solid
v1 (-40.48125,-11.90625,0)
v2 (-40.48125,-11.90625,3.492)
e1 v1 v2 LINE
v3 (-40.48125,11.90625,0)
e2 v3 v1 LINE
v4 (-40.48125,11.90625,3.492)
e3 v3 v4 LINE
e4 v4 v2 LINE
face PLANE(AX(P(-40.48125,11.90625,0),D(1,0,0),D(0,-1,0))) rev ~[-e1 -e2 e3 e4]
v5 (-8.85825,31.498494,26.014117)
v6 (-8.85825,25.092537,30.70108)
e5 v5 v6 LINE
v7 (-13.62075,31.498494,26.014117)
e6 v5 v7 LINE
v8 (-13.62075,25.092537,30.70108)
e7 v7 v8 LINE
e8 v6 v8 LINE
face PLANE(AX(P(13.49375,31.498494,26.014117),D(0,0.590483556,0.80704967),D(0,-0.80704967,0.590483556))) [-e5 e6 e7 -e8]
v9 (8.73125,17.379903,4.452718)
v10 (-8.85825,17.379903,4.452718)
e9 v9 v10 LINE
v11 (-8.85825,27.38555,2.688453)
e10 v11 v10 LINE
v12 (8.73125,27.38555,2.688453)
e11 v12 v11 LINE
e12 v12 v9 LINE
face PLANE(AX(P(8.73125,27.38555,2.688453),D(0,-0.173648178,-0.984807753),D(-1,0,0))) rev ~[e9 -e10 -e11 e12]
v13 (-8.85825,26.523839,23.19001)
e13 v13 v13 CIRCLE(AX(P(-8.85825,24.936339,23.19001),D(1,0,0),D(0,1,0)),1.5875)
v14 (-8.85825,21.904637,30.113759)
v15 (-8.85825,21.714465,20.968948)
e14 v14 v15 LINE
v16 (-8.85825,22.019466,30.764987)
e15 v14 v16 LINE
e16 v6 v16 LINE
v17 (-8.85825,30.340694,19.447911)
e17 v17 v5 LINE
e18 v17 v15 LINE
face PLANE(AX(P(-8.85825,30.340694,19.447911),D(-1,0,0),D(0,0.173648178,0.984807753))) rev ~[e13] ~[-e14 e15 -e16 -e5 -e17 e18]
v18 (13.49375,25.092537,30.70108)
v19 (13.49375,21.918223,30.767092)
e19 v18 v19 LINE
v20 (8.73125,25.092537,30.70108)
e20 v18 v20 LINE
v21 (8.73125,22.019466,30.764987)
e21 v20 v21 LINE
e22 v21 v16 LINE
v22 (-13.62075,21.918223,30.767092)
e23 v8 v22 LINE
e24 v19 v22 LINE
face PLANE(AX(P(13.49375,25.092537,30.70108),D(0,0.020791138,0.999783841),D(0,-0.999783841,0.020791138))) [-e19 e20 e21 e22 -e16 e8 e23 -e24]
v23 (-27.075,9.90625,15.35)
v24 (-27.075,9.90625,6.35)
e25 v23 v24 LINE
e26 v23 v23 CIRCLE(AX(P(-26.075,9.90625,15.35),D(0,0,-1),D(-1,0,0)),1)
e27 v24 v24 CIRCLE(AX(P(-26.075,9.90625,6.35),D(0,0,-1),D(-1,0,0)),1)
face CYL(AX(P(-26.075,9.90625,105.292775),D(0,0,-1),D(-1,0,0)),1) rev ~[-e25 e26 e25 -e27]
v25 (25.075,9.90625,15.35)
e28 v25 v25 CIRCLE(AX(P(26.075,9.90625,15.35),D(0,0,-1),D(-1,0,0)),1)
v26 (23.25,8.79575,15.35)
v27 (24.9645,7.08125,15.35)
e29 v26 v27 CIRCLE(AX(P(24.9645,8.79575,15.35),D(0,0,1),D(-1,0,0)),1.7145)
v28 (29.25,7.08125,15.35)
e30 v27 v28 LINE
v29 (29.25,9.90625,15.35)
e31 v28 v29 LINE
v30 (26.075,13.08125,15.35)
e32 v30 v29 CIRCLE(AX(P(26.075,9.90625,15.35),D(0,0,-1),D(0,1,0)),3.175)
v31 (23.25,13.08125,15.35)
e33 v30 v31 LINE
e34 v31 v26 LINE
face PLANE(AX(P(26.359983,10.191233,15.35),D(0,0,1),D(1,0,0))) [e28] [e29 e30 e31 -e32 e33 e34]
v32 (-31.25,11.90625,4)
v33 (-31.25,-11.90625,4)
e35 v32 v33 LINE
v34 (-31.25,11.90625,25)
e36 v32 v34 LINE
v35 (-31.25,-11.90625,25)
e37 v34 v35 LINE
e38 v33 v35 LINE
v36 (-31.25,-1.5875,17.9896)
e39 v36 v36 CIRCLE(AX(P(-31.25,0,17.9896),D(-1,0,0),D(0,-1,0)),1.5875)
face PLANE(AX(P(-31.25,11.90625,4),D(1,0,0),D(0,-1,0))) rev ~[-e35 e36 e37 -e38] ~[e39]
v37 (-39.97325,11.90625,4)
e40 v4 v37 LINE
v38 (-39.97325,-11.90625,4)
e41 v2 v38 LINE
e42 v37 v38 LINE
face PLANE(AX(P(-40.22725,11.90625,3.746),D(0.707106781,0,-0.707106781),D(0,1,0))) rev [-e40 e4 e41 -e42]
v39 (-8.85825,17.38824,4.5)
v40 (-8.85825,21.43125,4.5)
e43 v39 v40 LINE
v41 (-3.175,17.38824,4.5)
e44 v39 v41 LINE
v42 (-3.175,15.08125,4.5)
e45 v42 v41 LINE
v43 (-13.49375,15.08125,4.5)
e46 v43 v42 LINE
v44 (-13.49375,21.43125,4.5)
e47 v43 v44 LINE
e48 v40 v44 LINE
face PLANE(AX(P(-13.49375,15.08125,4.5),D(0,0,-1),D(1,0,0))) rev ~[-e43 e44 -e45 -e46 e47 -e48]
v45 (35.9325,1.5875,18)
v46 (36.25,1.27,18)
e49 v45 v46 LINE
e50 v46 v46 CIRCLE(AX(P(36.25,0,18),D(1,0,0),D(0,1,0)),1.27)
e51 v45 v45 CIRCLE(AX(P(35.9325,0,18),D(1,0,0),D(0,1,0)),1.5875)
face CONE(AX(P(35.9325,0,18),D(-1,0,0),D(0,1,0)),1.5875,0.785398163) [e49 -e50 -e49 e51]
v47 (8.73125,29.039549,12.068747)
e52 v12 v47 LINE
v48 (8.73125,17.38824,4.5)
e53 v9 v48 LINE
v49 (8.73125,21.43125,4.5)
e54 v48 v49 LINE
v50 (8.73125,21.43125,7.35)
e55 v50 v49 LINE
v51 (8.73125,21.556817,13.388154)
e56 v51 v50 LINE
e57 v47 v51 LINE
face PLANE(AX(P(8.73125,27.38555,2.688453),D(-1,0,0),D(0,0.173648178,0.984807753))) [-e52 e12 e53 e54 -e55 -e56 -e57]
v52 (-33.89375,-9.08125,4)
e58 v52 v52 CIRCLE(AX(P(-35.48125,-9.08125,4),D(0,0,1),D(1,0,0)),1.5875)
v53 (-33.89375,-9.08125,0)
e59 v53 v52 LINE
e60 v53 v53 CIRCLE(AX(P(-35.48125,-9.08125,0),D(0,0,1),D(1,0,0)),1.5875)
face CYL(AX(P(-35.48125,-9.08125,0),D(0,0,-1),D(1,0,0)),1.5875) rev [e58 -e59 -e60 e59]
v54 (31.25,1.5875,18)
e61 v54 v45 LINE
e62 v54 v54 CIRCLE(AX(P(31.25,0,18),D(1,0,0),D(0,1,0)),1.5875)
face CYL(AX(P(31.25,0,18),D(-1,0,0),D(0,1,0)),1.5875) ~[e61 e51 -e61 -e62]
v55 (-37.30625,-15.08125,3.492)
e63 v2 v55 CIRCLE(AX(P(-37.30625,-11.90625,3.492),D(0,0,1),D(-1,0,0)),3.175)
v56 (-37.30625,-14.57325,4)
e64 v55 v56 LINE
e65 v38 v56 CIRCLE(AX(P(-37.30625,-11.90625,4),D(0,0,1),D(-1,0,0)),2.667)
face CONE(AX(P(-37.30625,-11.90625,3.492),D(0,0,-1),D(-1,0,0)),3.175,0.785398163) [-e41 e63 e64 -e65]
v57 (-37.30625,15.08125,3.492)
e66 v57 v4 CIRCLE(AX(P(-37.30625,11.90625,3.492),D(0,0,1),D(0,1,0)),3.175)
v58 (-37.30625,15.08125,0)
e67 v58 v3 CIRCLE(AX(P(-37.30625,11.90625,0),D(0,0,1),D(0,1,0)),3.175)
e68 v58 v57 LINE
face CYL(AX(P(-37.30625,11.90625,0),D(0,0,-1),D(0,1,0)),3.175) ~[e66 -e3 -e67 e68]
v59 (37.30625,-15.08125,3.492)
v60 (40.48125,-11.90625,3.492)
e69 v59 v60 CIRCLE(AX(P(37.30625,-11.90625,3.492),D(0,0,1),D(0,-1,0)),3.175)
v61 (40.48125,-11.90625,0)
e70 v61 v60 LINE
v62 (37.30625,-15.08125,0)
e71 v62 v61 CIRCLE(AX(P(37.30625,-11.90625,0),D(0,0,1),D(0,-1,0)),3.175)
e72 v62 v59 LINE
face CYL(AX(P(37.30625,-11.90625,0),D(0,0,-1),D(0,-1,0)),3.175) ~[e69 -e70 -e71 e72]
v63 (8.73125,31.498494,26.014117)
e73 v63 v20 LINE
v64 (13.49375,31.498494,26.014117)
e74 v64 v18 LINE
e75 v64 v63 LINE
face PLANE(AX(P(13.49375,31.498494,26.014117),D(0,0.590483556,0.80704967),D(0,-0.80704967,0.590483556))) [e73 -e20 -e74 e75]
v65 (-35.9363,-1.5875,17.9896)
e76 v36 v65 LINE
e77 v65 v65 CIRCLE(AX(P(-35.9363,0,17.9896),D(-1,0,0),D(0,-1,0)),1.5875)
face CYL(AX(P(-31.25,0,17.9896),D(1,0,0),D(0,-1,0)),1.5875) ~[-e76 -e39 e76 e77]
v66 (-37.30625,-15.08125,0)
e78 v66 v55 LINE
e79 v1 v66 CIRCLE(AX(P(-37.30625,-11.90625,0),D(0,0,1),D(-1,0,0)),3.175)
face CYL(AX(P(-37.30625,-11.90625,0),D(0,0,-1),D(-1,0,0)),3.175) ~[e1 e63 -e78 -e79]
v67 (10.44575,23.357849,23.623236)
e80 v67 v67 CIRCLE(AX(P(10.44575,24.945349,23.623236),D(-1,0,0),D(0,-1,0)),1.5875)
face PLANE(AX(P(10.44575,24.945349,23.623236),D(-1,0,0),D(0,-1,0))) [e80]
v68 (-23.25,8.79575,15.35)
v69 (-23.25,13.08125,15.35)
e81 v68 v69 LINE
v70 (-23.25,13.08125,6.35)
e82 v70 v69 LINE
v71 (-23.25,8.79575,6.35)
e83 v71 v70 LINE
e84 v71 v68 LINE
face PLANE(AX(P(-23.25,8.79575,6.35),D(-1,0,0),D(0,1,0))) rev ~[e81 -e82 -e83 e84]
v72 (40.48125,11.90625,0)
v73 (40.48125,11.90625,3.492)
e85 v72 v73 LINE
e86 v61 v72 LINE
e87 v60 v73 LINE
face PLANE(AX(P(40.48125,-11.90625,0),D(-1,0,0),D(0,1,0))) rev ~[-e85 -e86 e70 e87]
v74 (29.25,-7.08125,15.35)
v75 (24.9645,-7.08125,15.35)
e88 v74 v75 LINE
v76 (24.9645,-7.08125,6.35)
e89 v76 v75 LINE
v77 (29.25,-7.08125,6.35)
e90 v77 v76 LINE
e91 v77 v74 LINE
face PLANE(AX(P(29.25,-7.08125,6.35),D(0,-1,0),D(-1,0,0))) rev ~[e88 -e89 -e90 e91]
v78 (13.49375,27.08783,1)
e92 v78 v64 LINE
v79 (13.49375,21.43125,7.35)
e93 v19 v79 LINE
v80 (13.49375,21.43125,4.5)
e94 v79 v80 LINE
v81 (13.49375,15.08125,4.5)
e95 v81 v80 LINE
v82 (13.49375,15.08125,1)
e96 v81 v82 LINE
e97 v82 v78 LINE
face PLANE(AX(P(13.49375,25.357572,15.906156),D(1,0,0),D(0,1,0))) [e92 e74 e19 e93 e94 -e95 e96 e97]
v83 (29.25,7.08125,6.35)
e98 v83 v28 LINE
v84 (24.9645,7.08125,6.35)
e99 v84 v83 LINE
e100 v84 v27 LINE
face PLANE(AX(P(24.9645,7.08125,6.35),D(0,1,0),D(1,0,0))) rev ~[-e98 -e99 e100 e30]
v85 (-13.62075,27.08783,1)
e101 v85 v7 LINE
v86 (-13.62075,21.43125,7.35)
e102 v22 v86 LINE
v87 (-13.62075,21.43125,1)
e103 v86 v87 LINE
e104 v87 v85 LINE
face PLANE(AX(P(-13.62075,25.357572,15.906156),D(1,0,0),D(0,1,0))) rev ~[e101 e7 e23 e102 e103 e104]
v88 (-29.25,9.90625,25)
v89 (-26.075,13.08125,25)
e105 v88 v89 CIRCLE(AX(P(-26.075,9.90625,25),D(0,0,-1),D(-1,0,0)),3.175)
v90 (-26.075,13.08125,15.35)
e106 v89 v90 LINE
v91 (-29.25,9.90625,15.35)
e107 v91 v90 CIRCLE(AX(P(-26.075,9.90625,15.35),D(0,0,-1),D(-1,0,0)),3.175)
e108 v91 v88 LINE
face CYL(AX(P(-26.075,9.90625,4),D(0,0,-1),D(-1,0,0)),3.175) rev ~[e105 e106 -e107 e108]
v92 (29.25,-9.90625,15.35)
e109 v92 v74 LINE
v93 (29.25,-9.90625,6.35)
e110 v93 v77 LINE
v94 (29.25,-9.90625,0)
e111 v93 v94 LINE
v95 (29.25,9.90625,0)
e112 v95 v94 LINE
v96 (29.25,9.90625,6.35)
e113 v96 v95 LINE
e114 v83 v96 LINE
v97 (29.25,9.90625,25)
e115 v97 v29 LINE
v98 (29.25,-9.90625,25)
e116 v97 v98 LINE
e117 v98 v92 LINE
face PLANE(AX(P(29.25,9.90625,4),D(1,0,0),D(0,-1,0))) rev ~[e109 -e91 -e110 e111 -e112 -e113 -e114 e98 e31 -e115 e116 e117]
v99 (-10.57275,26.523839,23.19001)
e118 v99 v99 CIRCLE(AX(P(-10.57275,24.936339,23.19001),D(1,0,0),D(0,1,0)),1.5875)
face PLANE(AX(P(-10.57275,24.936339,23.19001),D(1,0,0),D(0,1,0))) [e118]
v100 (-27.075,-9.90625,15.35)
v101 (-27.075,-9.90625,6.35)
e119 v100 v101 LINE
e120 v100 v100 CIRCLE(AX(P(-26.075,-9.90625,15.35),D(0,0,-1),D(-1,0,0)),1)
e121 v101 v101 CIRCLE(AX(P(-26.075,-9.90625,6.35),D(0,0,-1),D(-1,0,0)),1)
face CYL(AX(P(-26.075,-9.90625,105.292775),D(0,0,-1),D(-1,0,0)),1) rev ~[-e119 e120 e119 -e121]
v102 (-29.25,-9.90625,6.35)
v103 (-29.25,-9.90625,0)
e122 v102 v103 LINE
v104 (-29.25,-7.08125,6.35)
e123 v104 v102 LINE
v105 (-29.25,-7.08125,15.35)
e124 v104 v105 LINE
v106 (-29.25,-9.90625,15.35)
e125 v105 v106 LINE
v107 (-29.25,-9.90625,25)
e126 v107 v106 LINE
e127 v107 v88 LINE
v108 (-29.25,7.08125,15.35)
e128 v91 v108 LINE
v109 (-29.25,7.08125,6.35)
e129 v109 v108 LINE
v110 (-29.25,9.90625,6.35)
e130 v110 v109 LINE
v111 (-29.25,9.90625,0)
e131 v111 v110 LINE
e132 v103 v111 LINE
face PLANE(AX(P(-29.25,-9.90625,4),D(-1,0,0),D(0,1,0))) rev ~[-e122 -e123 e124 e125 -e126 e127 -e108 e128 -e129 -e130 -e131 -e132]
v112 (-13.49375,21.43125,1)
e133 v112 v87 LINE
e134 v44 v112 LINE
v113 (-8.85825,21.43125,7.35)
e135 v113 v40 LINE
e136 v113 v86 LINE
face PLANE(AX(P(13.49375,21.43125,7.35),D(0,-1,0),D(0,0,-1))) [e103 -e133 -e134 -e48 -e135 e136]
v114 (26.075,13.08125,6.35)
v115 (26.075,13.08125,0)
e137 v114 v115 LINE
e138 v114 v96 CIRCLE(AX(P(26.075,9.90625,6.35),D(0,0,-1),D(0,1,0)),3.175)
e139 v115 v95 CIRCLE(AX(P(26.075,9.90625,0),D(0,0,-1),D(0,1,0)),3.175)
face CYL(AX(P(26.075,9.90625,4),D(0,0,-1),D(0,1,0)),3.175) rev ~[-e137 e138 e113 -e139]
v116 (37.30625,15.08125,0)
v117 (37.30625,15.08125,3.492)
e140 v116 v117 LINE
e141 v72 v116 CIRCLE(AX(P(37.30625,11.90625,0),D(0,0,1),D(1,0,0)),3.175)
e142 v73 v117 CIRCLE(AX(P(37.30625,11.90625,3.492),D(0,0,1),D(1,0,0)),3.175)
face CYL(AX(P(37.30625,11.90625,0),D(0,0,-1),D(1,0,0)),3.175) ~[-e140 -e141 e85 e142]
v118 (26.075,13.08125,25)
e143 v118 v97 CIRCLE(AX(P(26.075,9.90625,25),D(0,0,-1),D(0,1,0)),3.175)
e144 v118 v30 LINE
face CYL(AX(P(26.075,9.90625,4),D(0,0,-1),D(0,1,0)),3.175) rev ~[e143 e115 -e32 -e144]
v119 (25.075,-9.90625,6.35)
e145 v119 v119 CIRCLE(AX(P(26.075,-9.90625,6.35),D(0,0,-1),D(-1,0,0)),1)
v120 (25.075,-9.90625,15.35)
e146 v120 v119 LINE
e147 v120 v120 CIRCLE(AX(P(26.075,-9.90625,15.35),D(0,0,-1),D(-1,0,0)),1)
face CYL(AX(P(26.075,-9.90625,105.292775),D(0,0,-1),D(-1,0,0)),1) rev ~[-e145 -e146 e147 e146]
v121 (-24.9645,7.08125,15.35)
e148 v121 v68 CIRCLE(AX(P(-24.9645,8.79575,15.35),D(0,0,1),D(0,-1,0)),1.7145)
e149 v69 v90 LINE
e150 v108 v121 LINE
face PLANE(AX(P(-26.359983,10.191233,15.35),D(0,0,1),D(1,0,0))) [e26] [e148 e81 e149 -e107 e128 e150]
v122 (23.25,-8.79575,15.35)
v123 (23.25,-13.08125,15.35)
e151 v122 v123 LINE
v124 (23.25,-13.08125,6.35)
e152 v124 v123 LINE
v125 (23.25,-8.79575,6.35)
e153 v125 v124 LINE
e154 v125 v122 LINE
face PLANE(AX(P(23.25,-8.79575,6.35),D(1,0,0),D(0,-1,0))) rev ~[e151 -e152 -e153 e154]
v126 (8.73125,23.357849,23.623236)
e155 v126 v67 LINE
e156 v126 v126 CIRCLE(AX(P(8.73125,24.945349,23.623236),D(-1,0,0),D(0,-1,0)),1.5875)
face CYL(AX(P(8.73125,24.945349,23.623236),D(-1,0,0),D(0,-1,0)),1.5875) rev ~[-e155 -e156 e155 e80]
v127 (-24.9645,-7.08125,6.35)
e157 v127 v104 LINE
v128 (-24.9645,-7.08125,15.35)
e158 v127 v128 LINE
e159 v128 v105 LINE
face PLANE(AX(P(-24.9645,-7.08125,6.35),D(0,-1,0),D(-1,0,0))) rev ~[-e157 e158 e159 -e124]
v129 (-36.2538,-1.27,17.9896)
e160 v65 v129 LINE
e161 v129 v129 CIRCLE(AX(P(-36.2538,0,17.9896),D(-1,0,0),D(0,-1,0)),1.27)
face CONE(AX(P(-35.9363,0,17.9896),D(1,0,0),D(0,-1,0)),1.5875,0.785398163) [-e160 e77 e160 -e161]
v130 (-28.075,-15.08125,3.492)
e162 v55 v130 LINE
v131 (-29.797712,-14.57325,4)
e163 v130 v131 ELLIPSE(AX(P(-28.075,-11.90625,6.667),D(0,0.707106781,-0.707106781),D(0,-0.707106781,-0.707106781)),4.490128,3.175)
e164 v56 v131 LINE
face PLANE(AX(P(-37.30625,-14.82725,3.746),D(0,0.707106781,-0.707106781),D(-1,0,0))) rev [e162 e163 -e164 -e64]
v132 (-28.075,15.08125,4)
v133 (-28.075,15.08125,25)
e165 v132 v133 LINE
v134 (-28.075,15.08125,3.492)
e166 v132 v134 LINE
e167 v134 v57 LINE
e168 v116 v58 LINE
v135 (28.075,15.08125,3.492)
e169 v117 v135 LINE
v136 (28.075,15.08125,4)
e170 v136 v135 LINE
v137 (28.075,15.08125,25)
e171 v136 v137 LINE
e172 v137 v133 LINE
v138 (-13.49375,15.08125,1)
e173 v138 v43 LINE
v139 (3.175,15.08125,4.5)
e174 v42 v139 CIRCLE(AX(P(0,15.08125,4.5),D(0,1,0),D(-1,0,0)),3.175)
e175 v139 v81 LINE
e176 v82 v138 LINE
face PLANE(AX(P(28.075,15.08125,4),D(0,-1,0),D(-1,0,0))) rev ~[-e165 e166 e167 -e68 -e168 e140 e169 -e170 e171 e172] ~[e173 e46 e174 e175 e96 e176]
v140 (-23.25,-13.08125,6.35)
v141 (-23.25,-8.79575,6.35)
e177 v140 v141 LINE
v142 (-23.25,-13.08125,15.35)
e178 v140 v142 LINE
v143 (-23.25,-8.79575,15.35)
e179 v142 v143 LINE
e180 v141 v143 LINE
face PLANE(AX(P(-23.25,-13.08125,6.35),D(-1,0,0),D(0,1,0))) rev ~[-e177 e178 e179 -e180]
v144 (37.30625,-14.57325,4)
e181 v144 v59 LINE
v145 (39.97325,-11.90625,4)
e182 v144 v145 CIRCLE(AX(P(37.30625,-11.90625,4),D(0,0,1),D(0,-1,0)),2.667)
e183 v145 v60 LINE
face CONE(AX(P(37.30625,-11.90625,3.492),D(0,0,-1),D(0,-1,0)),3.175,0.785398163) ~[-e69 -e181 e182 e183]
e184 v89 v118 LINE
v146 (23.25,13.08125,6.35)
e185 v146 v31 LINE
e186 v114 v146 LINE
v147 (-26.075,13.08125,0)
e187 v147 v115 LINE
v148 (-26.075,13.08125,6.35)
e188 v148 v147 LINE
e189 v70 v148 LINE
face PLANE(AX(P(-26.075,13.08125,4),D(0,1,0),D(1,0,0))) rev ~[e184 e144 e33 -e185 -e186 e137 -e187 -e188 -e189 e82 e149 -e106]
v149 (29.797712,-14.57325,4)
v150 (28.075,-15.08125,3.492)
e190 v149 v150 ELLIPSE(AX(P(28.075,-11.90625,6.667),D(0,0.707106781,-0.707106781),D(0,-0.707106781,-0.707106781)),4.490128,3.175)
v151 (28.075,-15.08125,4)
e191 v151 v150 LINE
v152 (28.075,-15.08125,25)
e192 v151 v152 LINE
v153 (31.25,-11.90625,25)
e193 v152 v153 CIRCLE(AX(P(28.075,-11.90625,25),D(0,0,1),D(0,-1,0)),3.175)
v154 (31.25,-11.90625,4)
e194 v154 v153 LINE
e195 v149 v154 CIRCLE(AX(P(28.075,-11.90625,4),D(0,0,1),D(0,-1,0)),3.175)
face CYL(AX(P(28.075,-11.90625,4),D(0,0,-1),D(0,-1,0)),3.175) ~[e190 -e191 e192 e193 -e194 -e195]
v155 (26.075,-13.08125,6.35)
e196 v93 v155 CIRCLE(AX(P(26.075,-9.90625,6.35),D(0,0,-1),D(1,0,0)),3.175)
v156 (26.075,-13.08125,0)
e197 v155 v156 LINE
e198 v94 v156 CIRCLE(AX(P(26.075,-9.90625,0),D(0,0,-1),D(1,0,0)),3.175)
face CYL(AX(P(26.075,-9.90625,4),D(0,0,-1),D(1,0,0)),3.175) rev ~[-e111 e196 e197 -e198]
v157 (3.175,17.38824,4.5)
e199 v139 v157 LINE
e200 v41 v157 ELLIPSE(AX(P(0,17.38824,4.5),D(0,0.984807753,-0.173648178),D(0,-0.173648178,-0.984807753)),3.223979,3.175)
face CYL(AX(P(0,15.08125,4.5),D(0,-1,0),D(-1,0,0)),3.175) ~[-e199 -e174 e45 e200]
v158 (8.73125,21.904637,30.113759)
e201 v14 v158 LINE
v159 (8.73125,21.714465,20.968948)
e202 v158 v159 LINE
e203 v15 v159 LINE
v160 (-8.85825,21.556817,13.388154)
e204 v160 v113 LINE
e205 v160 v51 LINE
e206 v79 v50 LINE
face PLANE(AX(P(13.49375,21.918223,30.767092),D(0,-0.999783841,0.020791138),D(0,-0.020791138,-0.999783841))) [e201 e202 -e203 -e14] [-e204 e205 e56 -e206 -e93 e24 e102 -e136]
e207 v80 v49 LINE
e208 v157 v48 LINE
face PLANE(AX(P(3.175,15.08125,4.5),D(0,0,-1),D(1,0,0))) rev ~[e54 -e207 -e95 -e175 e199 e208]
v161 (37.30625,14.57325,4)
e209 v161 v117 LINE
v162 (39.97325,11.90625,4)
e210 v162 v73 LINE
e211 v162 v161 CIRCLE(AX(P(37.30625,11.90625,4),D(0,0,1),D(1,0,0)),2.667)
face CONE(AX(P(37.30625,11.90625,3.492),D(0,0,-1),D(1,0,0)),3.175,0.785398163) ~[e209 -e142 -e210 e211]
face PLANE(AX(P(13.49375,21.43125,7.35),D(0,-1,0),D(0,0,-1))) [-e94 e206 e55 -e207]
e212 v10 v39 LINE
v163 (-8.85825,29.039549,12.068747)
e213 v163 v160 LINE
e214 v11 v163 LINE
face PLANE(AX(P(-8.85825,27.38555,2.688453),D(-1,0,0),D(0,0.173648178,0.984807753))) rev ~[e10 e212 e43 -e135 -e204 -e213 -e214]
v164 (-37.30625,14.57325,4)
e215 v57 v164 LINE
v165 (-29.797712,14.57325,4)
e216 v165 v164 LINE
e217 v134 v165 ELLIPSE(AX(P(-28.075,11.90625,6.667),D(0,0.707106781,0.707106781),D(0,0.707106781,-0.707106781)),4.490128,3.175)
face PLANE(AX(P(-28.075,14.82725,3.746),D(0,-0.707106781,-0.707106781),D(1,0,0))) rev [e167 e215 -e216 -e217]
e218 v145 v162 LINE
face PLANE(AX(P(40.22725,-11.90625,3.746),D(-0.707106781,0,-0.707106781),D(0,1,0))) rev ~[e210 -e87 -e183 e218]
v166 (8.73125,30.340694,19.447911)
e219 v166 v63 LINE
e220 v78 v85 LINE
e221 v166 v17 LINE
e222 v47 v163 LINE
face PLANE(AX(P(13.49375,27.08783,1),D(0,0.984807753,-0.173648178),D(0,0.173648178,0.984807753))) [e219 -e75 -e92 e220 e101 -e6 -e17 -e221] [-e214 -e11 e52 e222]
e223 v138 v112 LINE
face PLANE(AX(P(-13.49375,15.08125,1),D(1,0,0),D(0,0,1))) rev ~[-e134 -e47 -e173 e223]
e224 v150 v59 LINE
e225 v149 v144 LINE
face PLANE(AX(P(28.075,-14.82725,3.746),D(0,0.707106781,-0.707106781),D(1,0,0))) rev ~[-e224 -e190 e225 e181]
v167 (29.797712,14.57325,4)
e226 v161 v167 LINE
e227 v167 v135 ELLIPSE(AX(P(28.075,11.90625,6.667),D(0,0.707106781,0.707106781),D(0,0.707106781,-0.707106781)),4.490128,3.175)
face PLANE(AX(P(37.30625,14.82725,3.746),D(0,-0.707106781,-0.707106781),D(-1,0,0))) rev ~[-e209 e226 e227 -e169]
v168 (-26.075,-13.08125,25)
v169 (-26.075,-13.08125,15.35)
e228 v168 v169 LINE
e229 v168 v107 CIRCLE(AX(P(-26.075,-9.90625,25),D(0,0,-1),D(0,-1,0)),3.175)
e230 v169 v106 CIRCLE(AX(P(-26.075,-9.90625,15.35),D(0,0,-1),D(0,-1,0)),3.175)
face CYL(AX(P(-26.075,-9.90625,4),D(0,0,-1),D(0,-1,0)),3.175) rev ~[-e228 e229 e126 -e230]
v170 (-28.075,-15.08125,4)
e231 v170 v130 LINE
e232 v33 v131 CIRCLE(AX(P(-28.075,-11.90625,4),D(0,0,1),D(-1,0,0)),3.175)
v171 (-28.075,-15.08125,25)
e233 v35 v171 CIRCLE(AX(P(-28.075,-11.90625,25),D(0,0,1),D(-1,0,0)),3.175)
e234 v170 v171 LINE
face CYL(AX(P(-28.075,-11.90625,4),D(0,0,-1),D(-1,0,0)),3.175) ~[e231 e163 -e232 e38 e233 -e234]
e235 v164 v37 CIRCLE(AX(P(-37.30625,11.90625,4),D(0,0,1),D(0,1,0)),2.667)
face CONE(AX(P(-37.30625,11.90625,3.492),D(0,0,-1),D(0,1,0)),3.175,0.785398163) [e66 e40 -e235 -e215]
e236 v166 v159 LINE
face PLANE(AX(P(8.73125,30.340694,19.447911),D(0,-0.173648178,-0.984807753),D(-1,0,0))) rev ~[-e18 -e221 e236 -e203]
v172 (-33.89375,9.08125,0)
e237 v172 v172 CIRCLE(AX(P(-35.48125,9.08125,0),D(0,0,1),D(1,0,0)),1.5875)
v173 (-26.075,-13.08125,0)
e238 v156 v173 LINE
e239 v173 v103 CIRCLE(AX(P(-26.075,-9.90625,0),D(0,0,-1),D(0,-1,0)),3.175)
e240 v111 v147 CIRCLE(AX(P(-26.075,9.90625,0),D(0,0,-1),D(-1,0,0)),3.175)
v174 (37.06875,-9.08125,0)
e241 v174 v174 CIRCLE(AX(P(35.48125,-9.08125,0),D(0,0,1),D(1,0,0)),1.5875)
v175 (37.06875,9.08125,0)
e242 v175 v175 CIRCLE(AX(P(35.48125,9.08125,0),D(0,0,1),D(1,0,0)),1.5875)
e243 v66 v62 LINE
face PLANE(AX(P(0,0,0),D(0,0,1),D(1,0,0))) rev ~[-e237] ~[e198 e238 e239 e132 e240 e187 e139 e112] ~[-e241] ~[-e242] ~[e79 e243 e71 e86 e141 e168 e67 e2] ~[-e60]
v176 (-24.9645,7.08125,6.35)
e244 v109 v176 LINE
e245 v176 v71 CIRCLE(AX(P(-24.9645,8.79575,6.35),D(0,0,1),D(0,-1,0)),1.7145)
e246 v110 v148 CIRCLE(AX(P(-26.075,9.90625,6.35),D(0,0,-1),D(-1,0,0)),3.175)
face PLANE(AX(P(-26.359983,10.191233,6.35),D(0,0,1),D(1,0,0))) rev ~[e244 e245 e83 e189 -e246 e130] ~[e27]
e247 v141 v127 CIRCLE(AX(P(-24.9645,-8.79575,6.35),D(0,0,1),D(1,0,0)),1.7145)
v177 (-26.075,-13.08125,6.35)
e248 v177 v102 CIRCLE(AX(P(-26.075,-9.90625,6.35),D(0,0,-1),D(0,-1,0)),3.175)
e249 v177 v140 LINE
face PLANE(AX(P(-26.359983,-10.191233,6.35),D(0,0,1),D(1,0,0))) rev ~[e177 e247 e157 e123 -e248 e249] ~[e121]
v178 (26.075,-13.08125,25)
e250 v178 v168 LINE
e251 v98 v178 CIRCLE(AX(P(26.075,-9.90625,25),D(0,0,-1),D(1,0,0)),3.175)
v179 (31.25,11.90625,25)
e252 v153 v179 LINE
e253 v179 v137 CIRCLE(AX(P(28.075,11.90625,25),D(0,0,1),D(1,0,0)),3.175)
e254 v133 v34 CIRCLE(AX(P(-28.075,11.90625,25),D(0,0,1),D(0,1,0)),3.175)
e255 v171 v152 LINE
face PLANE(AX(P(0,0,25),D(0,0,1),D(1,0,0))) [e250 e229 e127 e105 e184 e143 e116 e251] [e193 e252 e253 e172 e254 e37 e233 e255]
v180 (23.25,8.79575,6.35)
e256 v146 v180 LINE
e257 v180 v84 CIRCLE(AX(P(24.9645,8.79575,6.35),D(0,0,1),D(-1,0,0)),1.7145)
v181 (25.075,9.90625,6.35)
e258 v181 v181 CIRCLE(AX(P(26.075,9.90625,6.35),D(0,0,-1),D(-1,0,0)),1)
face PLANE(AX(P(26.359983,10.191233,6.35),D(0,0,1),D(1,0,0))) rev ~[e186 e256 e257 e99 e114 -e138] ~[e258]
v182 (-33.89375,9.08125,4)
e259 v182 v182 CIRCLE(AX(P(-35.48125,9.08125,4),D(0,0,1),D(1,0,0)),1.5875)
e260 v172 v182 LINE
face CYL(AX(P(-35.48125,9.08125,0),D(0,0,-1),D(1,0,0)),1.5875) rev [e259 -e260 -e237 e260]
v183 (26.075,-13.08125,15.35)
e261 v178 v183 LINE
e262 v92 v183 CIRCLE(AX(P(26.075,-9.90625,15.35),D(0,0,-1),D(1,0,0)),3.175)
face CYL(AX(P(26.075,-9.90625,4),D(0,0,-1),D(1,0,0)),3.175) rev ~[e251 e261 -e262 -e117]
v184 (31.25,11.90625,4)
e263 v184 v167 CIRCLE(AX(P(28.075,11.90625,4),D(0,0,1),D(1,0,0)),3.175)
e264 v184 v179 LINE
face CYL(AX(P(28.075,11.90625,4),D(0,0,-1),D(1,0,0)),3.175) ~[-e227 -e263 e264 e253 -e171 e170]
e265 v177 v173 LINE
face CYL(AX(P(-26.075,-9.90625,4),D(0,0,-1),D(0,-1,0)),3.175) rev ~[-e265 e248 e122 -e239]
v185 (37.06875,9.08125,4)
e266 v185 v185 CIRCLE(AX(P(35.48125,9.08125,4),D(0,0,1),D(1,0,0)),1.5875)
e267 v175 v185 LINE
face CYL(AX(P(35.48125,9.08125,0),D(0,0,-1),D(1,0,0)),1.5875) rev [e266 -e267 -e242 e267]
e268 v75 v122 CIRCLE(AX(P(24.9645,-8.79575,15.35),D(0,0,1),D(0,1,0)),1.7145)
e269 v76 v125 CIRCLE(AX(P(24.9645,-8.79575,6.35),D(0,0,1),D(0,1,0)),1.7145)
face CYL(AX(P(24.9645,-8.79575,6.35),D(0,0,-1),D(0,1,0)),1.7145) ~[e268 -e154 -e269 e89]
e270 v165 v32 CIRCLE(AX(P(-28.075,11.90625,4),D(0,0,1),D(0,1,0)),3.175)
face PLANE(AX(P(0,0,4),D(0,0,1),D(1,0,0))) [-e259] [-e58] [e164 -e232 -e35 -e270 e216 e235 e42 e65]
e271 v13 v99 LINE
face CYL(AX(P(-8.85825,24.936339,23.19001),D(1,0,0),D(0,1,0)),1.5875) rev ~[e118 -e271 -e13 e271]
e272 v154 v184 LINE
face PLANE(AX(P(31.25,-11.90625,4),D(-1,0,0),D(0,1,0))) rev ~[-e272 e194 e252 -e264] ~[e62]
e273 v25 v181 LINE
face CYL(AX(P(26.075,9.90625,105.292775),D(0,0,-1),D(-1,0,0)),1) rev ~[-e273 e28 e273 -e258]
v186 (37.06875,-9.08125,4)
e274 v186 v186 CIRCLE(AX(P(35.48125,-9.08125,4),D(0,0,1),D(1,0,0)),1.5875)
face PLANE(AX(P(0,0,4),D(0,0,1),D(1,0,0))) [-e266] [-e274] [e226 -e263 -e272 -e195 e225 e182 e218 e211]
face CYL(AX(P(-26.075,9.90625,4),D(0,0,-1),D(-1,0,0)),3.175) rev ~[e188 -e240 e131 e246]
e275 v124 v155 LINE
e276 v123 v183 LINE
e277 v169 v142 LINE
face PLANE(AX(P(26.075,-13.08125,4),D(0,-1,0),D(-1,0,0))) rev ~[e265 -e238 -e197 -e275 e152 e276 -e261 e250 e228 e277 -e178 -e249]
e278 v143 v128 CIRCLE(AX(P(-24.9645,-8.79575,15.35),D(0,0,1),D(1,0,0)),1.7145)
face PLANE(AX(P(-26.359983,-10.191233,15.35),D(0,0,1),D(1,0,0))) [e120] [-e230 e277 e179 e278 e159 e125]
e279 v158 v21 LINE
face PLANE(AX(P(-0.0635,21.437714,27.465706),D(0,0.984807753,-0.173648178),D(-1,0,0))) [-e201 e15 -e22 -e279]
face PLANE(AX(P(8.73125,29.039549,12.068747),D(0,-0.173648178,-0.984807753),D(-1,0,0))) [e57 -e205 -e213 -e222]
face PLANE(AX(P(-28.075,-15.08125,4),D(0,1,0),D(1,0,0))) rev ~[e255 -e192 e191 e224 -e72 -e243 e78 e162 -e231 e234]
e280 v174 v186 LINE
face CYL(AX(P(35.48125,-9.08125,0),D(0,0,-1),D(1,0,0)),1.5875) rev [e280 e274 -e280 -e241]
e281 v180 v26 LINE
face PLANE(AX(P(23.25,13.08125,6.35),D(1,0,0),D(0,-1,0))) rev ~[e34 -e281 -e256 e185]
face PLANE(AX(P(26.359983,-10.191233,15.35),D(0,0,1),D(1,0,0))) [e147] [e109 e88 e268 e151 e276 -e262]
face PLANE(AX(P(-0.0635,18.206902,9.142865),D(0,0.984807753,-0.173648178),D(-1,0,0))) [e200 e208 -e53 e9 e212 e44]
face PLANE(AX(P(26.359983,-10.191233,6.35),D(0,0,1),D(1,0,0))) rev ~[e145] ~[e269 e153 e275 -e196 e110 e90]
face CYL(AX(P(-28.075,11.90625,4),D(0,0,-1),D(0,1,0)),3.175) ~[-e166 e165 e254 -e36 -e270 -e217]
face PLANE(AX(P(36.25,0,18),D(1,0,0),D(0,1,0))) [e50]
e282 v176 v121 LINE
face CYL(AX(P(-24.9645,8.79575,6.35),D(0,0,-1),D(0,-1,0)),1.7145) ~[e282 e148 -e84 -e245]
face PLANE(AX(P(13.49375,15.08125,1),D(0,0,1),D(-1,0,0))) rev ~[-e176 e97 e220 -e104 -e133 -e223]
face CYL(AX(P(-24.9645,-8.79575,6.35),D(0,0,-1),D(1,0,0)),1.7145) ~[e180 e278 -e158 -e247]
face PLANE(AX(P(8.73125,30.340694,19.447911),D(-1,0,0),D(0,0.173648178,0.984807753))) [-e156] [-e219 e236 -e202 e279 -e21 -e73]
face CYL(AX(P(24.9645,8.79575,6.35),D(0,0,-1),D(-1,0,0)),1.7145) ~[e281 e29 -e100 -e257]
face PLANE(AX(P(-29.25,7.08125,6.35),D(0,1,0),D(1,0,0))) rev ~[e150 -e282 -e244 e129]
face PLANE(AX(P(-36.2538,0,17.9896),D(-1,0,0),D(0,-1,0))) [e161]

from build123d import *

# Parameters (mm, degrees)
F0_R         = 1.5875
F1_DEPTH     = 4
F3_DEPTH     = 21
F4_SIZE      = 0.508
F5_R         = 1.5875
F6_DEPTH     = 5
F7_R         = 1.5875
F8_DEPTH     = 5.0038
F9_SIZE      = 0.3175
F12_DEPTH    = 9
F17_D        = 2
F17_ON_F14_D = 2
F17_ON_F16_D = 2
F17_ON_F15_D = 2
F19_DEPTH    = 12.00658
F21_DEPTH    = 27.1145
F22_W        = 17.5895
F22_H        = 9.525
F22_H_2      = 12.7
F23_DEPTH    = 10.16
F25_R        = 1.5875
F26_DEPTH    = 1.7145
F24_R        = 1.5875
F27_DEPTH    = 1.7145


with BuildPart() as f1:
    # F0 (on Top) → F1 (new body)
    with BuildSketch(Plane.XY):
        with BuildLine():
            Line((37.30625, 15.08125), (-37.30625, 15.08125))
            ThreePointArc((-37.30625, 15.08125), (-39.5513140303, 14.1513140303), (-40.48125, 11.90625))
            Line((-40.48125, 11.90625), (-40.48125, -11.90625))
            ThreePointArc((-40.48125, -11.90625), (-39.5513140303, -14.1513140303), (-37.30625, -15.08125))
            Line((-37.30625, -15.08125), (37.30625, -15.08125))
            ThreePointArc((37.30625, -15.08125), (39.5513140303, -14.1513140303), (40.48125, -11.90625))
            Line((40.48125, -11.90625), (40.48125, 11.90625))
            ThreePointArc((40.48125, 11.90625), (39.5513140303, 14.1513140303), (37.30625, 15.08125))
        make_face()
        with Locations((-35.48125, -9.08125)):
            Circle(F0_R, mode=Mode.SUBTRACT)
        with Locations((35.48125, -9.08125)):
            Circle(F0_R, mode=Mode.SUBTRACT)
        with Locations((-35.48125, 9.08125)):
            Circle(F0_R, mode=Mode.SUBTRACT)
        with BuildLine():
            ThreePointArc((-29.25, 9.90625), (-28.3200640303, 12.1513140303), (-26.075, 13.08125))
            Line((-26.075, 13.08125), (26.075, 13.08125))
            ThreePointArc((26.075, 13.08125), (28.3200640303, 12.1513140303), (29.25, 9.90625))
            Line((29.25, 9.90625), (29.25, -9.90625))
            ThreePointArc((29.25, -9.90625), (28.3200640303, -12.1513140303), (26.075, -13.08125))
            Line((26.075, -13.08125), (-26.075, -13.08125))
            ThreePointArc((-26.075, -13.08125), (-28.3200640303, -12.1513140303), (-29.25, -9.90625))
            Line((-29.25, -9.90625), (-29.25, 9.90625))
        make_face(mode=Mode.SUBTRACT)
        with Locations((35.48125, 9.08125)):
            Circle(F0_R, mode=Mode.SUBTRACT)
    extrude(amount=F1_DEPTH)

    # F2 (on face) → F3 (join)
    with BuildSketch(Plane.XY.offset(4)):
        with BuildLine():
            Line((28.075, 15.08125), (-28.075, 15.08125))
            ThreePointArc((-28.075, 15.08125), (-30.3200640303, 14.1513140303), (-31.25, 11.90625))
            Line((-31.25, 11.90625), (-31.25, -11.90625))
            ThreePointArc((-31.25, -11.90625), (-30.3200640303, -14.1513140303), (-28.075, -15.08125))
            Line((-28.075, -15.08125), (28.075, -15.08125))
            ThreePointArc((28.075, -15.08125), (30.3200640303, -14.1513140303), (31.25, -11.90625))
            Line((31.25, -11.90625), (31.25, 11.90625))
            ThreePointArc((31.25, 11.90625), (30.3200640303, 14.1513140303), (28.075, 15.08125))
        make_face()
        with BuildLine():
            ThreePointArc((-29.25, 9.90625), (-28.3200640303, 12.1513140303), (-26.075, 13.08125))
            Line((-26.075, 13.08125), (26.075, 13.08125))
            ThreePointArc((26.075, 13.08125), (28.3200640303, 12.1513140303), (29.25, 9.90625))
            Line((29.25, 9.90625), (29.25, -9.90625))
            ThreePointArc((29.25, -9.90625), (28.3200640303, -12.1513140303), (26.075, -13.08125))
            Line((26.075, -13.08125), (-26.075, -13.08125))
            ThreePointArc((-26.075, -13.08125), (-28.3200640303, -12.1513140303), (-29.25, -9.90625))
            Line((-29.25, -9.90625), (-29.25, 9.90625))
        make_face(mode=Mode.SUBTRACT)
    extrude(amount=F3_DEPTH)

    # F4
    f4_edges = [f1.edges().sort_by_distance(p)[0] for p in [
        (32.690625, -15.08125, 4),
        (39.551314, -14.151314, 4),
        (40.48125, 0, 4),
        (39.551314, 14.151314, 4),
        (32.690625, 15.08125, 4),
        (-32.690625, -15.08125, 4),
        (-39.551314, -14.151314, 4),
        (-40.48125, 0, 4),
        (-39.551314, 14.151314, 4),
        (-32.690625, 15.08125, 4),
    ]]
    chamfer(f4_edges, length=F4_SIZE)

    # F5 (on face) → F6 (join)
    with BuildSketch(Plane.YZ.offset(31.25)):
        with Locations((0, 18)):
            Circle(F5_R)
    extrude(amount=F6_DEPTH)

    # F7 (on face) → F8 (join)
    with BuildSketch(Plane(origin=(-31.25, 0, 0), x_dir=(0, -1, 0), z_dir=(-1, 0, 0))):
        with Locations((0, 17.9896)):
            Circle(F7_R)
    extrude(amount=F8_DEPTH)

    # F9
    f9_edges = [f1.edges().sort_by_distance(p)[0] for p in [
        (36.25, -1.5875, 18),
        (-36.2538, 1.5875, 17.9896),
    ]]
    chamfer(f9_edges, length=F9_SIZE)

    # F11 (on offset) → F12 (join)
    with BuildSketch(Plane.XY.offset(6.35)):
        with BuildLine():
            Line((-29.25, 13.08125), (-29.25, 7.08125))
            Line((-29.25, 7.08125), (-24.9645, 7.08125))
            ThreePointArc((-24.9645, 7.08125), (-23.7521654237, 7.5834154237), (-23.25, 8.79575))
            Line((-23.25, 8.79575), (-23.25, 13.08125))
            Line((-23.25, 13.08125), (-29.25, 13.08125))
        make_face()
        with BuildLine():
            ThreePointArc((-23.25, -8.79575), (-23.7521654237, -7.5834154237), (-24.9645, -7.08125))
            Line((-24.9645, -7.08125), (-29.25, -7.08125))
            Line((-29.25, -7.08125), (-29.25, -13.08125))
            Line((-29.25, -13.08125), (-23.25, -13.08125))
            Line((-23.25, -13.08125), (-23.25, -8.79575))
        make_face()
        with BuildLine():
            Line((29.25, -7.08125), (24.9645, -7.08125))
            ThreePointArc((24.9645, -7.08125), (23.7521654237, -7.5834154237), (23.25, -8.79575))
            Line((23.25, -8.79575), (23.25, -13.08125))
            Line((23.25, -13.08125), (29.25, -13.08125))
            Line((29.25, -13.08125), (29.25, -7.08125))
        make_face()
        with BuildLine():
            ThreePointArc((23.25, 8.79575), (23.7521654237, 7.5834154237), (24.9645, 7.08125))
            Line((24.9645, 7.08125), (29.25, 7.08125))
            Line((29.25, 7.08125), (29.25, 13.08125))
            Line((29.25, 13.08125), (23.25, 13.08125))
            Line((23.25, 13.08125), (23.25, 8.79575))
        make_face()
    extrude(amount=F12_DEPTH)

    # F17 (through all)
    with Locations(Plane.XY.offset(15.35)):
        with Locations((-26.075, 9.90625)):
            Hole(F17_D / 2)

    # F17 on F14 (through all)
    with Locations(Plane.XY.offset(15.35)):
        with Locations((-26.075, -9.90625)):
            Hole(F17_ON_F14_D / 2)

    # F17 on F16 (through all)
    with Locations(Plane.XY.offset(15.35)):
        with Locations((26.075, -9.90625)):
            Hole(F17_ON_F16_D / 2)

    # F17 on F15 (through all)
    with Locations(Plane.XY.offset(15.35)):
        with Locations((26.075, 9.90625)):
            Hole(F17_ON_F15_D / 2)

    # F18 (on face) → F19 (join)
    with BuildSketch(Plane(origin=(0, 15.08125, 0), x_dir=(-1, 0, 0), z_dir=(0, 1, 0))):
        with BuildLine():
            Line((-3.175, 4.5), (-13.49375, 4.5))
            Line((-13.49375, 4.5), (-13.49375, 1))
            Line((-13.49375, 1), (13.49375, 1))
            Line((13.49375, 1), (13.49375, 4.5))
            Line((13.49375, 4.5), (3.175, 4.5))
            ThreePointArc((3.175, 4.5), (0, 7.675), (-3.175, 4.5))
        make_face()
    extrude(amount=F19_DEPTH)

    # F20 (on face) → F21 (join)
    with BuildSketch(Plane.YZ.offset(13.49375)):
        Polygon((21.43125, 7.35), (21.43125, 1), (27.08783, 1), (31.4984937127, 26.0141169265), (25.0925369558, 30.7010801522), (21.9182232609, 30.7670920161), align=None)
    extrude(amount=-F21_DEPTH)

    # F22 (on face) → F23 (cut)
    with BuildSketch(Plane(origin=(0, 26.1000219104, -4.6021380599), x_dir=(-1, 0, 0), z_dir=(0, 0.984807753, -0.1736481777))):
        with Locations((0.0635, 12.1655600695)):
            Rectangle(F22_W, F22_H)
        with Locations((0.0635, 30.7710600695)):
            Rectangle(F22_W, F22_H_2)
    extrude(amount=-F23_DEPTH, mode=Mode.SUBTRACT)

    # F25 (on face) → F26 (cut)
    with BuildSketch(Plane(origin=(8.73125, 0, 0), x_dir=(0, -1, 0), z_dir=(-1, 0, 0))):
        with Locations((-24.9453486986, 23.623235759)):
            Circle(F25_R)
    extrude(amount=-F26_DEPTH, mode=Mode.SUBTRACT)

    # F24 (on face) → F27 (cut)
    with BuildSketch(Plane.YZ.offset(-8.85825)):
        with Locations((24.9363394923, 23.1900098967)):
            Circle(F24_R)
    extrude(amount=-F27_DEPTH, mode=Mode.SUBTRACT)


solid = f1.part
